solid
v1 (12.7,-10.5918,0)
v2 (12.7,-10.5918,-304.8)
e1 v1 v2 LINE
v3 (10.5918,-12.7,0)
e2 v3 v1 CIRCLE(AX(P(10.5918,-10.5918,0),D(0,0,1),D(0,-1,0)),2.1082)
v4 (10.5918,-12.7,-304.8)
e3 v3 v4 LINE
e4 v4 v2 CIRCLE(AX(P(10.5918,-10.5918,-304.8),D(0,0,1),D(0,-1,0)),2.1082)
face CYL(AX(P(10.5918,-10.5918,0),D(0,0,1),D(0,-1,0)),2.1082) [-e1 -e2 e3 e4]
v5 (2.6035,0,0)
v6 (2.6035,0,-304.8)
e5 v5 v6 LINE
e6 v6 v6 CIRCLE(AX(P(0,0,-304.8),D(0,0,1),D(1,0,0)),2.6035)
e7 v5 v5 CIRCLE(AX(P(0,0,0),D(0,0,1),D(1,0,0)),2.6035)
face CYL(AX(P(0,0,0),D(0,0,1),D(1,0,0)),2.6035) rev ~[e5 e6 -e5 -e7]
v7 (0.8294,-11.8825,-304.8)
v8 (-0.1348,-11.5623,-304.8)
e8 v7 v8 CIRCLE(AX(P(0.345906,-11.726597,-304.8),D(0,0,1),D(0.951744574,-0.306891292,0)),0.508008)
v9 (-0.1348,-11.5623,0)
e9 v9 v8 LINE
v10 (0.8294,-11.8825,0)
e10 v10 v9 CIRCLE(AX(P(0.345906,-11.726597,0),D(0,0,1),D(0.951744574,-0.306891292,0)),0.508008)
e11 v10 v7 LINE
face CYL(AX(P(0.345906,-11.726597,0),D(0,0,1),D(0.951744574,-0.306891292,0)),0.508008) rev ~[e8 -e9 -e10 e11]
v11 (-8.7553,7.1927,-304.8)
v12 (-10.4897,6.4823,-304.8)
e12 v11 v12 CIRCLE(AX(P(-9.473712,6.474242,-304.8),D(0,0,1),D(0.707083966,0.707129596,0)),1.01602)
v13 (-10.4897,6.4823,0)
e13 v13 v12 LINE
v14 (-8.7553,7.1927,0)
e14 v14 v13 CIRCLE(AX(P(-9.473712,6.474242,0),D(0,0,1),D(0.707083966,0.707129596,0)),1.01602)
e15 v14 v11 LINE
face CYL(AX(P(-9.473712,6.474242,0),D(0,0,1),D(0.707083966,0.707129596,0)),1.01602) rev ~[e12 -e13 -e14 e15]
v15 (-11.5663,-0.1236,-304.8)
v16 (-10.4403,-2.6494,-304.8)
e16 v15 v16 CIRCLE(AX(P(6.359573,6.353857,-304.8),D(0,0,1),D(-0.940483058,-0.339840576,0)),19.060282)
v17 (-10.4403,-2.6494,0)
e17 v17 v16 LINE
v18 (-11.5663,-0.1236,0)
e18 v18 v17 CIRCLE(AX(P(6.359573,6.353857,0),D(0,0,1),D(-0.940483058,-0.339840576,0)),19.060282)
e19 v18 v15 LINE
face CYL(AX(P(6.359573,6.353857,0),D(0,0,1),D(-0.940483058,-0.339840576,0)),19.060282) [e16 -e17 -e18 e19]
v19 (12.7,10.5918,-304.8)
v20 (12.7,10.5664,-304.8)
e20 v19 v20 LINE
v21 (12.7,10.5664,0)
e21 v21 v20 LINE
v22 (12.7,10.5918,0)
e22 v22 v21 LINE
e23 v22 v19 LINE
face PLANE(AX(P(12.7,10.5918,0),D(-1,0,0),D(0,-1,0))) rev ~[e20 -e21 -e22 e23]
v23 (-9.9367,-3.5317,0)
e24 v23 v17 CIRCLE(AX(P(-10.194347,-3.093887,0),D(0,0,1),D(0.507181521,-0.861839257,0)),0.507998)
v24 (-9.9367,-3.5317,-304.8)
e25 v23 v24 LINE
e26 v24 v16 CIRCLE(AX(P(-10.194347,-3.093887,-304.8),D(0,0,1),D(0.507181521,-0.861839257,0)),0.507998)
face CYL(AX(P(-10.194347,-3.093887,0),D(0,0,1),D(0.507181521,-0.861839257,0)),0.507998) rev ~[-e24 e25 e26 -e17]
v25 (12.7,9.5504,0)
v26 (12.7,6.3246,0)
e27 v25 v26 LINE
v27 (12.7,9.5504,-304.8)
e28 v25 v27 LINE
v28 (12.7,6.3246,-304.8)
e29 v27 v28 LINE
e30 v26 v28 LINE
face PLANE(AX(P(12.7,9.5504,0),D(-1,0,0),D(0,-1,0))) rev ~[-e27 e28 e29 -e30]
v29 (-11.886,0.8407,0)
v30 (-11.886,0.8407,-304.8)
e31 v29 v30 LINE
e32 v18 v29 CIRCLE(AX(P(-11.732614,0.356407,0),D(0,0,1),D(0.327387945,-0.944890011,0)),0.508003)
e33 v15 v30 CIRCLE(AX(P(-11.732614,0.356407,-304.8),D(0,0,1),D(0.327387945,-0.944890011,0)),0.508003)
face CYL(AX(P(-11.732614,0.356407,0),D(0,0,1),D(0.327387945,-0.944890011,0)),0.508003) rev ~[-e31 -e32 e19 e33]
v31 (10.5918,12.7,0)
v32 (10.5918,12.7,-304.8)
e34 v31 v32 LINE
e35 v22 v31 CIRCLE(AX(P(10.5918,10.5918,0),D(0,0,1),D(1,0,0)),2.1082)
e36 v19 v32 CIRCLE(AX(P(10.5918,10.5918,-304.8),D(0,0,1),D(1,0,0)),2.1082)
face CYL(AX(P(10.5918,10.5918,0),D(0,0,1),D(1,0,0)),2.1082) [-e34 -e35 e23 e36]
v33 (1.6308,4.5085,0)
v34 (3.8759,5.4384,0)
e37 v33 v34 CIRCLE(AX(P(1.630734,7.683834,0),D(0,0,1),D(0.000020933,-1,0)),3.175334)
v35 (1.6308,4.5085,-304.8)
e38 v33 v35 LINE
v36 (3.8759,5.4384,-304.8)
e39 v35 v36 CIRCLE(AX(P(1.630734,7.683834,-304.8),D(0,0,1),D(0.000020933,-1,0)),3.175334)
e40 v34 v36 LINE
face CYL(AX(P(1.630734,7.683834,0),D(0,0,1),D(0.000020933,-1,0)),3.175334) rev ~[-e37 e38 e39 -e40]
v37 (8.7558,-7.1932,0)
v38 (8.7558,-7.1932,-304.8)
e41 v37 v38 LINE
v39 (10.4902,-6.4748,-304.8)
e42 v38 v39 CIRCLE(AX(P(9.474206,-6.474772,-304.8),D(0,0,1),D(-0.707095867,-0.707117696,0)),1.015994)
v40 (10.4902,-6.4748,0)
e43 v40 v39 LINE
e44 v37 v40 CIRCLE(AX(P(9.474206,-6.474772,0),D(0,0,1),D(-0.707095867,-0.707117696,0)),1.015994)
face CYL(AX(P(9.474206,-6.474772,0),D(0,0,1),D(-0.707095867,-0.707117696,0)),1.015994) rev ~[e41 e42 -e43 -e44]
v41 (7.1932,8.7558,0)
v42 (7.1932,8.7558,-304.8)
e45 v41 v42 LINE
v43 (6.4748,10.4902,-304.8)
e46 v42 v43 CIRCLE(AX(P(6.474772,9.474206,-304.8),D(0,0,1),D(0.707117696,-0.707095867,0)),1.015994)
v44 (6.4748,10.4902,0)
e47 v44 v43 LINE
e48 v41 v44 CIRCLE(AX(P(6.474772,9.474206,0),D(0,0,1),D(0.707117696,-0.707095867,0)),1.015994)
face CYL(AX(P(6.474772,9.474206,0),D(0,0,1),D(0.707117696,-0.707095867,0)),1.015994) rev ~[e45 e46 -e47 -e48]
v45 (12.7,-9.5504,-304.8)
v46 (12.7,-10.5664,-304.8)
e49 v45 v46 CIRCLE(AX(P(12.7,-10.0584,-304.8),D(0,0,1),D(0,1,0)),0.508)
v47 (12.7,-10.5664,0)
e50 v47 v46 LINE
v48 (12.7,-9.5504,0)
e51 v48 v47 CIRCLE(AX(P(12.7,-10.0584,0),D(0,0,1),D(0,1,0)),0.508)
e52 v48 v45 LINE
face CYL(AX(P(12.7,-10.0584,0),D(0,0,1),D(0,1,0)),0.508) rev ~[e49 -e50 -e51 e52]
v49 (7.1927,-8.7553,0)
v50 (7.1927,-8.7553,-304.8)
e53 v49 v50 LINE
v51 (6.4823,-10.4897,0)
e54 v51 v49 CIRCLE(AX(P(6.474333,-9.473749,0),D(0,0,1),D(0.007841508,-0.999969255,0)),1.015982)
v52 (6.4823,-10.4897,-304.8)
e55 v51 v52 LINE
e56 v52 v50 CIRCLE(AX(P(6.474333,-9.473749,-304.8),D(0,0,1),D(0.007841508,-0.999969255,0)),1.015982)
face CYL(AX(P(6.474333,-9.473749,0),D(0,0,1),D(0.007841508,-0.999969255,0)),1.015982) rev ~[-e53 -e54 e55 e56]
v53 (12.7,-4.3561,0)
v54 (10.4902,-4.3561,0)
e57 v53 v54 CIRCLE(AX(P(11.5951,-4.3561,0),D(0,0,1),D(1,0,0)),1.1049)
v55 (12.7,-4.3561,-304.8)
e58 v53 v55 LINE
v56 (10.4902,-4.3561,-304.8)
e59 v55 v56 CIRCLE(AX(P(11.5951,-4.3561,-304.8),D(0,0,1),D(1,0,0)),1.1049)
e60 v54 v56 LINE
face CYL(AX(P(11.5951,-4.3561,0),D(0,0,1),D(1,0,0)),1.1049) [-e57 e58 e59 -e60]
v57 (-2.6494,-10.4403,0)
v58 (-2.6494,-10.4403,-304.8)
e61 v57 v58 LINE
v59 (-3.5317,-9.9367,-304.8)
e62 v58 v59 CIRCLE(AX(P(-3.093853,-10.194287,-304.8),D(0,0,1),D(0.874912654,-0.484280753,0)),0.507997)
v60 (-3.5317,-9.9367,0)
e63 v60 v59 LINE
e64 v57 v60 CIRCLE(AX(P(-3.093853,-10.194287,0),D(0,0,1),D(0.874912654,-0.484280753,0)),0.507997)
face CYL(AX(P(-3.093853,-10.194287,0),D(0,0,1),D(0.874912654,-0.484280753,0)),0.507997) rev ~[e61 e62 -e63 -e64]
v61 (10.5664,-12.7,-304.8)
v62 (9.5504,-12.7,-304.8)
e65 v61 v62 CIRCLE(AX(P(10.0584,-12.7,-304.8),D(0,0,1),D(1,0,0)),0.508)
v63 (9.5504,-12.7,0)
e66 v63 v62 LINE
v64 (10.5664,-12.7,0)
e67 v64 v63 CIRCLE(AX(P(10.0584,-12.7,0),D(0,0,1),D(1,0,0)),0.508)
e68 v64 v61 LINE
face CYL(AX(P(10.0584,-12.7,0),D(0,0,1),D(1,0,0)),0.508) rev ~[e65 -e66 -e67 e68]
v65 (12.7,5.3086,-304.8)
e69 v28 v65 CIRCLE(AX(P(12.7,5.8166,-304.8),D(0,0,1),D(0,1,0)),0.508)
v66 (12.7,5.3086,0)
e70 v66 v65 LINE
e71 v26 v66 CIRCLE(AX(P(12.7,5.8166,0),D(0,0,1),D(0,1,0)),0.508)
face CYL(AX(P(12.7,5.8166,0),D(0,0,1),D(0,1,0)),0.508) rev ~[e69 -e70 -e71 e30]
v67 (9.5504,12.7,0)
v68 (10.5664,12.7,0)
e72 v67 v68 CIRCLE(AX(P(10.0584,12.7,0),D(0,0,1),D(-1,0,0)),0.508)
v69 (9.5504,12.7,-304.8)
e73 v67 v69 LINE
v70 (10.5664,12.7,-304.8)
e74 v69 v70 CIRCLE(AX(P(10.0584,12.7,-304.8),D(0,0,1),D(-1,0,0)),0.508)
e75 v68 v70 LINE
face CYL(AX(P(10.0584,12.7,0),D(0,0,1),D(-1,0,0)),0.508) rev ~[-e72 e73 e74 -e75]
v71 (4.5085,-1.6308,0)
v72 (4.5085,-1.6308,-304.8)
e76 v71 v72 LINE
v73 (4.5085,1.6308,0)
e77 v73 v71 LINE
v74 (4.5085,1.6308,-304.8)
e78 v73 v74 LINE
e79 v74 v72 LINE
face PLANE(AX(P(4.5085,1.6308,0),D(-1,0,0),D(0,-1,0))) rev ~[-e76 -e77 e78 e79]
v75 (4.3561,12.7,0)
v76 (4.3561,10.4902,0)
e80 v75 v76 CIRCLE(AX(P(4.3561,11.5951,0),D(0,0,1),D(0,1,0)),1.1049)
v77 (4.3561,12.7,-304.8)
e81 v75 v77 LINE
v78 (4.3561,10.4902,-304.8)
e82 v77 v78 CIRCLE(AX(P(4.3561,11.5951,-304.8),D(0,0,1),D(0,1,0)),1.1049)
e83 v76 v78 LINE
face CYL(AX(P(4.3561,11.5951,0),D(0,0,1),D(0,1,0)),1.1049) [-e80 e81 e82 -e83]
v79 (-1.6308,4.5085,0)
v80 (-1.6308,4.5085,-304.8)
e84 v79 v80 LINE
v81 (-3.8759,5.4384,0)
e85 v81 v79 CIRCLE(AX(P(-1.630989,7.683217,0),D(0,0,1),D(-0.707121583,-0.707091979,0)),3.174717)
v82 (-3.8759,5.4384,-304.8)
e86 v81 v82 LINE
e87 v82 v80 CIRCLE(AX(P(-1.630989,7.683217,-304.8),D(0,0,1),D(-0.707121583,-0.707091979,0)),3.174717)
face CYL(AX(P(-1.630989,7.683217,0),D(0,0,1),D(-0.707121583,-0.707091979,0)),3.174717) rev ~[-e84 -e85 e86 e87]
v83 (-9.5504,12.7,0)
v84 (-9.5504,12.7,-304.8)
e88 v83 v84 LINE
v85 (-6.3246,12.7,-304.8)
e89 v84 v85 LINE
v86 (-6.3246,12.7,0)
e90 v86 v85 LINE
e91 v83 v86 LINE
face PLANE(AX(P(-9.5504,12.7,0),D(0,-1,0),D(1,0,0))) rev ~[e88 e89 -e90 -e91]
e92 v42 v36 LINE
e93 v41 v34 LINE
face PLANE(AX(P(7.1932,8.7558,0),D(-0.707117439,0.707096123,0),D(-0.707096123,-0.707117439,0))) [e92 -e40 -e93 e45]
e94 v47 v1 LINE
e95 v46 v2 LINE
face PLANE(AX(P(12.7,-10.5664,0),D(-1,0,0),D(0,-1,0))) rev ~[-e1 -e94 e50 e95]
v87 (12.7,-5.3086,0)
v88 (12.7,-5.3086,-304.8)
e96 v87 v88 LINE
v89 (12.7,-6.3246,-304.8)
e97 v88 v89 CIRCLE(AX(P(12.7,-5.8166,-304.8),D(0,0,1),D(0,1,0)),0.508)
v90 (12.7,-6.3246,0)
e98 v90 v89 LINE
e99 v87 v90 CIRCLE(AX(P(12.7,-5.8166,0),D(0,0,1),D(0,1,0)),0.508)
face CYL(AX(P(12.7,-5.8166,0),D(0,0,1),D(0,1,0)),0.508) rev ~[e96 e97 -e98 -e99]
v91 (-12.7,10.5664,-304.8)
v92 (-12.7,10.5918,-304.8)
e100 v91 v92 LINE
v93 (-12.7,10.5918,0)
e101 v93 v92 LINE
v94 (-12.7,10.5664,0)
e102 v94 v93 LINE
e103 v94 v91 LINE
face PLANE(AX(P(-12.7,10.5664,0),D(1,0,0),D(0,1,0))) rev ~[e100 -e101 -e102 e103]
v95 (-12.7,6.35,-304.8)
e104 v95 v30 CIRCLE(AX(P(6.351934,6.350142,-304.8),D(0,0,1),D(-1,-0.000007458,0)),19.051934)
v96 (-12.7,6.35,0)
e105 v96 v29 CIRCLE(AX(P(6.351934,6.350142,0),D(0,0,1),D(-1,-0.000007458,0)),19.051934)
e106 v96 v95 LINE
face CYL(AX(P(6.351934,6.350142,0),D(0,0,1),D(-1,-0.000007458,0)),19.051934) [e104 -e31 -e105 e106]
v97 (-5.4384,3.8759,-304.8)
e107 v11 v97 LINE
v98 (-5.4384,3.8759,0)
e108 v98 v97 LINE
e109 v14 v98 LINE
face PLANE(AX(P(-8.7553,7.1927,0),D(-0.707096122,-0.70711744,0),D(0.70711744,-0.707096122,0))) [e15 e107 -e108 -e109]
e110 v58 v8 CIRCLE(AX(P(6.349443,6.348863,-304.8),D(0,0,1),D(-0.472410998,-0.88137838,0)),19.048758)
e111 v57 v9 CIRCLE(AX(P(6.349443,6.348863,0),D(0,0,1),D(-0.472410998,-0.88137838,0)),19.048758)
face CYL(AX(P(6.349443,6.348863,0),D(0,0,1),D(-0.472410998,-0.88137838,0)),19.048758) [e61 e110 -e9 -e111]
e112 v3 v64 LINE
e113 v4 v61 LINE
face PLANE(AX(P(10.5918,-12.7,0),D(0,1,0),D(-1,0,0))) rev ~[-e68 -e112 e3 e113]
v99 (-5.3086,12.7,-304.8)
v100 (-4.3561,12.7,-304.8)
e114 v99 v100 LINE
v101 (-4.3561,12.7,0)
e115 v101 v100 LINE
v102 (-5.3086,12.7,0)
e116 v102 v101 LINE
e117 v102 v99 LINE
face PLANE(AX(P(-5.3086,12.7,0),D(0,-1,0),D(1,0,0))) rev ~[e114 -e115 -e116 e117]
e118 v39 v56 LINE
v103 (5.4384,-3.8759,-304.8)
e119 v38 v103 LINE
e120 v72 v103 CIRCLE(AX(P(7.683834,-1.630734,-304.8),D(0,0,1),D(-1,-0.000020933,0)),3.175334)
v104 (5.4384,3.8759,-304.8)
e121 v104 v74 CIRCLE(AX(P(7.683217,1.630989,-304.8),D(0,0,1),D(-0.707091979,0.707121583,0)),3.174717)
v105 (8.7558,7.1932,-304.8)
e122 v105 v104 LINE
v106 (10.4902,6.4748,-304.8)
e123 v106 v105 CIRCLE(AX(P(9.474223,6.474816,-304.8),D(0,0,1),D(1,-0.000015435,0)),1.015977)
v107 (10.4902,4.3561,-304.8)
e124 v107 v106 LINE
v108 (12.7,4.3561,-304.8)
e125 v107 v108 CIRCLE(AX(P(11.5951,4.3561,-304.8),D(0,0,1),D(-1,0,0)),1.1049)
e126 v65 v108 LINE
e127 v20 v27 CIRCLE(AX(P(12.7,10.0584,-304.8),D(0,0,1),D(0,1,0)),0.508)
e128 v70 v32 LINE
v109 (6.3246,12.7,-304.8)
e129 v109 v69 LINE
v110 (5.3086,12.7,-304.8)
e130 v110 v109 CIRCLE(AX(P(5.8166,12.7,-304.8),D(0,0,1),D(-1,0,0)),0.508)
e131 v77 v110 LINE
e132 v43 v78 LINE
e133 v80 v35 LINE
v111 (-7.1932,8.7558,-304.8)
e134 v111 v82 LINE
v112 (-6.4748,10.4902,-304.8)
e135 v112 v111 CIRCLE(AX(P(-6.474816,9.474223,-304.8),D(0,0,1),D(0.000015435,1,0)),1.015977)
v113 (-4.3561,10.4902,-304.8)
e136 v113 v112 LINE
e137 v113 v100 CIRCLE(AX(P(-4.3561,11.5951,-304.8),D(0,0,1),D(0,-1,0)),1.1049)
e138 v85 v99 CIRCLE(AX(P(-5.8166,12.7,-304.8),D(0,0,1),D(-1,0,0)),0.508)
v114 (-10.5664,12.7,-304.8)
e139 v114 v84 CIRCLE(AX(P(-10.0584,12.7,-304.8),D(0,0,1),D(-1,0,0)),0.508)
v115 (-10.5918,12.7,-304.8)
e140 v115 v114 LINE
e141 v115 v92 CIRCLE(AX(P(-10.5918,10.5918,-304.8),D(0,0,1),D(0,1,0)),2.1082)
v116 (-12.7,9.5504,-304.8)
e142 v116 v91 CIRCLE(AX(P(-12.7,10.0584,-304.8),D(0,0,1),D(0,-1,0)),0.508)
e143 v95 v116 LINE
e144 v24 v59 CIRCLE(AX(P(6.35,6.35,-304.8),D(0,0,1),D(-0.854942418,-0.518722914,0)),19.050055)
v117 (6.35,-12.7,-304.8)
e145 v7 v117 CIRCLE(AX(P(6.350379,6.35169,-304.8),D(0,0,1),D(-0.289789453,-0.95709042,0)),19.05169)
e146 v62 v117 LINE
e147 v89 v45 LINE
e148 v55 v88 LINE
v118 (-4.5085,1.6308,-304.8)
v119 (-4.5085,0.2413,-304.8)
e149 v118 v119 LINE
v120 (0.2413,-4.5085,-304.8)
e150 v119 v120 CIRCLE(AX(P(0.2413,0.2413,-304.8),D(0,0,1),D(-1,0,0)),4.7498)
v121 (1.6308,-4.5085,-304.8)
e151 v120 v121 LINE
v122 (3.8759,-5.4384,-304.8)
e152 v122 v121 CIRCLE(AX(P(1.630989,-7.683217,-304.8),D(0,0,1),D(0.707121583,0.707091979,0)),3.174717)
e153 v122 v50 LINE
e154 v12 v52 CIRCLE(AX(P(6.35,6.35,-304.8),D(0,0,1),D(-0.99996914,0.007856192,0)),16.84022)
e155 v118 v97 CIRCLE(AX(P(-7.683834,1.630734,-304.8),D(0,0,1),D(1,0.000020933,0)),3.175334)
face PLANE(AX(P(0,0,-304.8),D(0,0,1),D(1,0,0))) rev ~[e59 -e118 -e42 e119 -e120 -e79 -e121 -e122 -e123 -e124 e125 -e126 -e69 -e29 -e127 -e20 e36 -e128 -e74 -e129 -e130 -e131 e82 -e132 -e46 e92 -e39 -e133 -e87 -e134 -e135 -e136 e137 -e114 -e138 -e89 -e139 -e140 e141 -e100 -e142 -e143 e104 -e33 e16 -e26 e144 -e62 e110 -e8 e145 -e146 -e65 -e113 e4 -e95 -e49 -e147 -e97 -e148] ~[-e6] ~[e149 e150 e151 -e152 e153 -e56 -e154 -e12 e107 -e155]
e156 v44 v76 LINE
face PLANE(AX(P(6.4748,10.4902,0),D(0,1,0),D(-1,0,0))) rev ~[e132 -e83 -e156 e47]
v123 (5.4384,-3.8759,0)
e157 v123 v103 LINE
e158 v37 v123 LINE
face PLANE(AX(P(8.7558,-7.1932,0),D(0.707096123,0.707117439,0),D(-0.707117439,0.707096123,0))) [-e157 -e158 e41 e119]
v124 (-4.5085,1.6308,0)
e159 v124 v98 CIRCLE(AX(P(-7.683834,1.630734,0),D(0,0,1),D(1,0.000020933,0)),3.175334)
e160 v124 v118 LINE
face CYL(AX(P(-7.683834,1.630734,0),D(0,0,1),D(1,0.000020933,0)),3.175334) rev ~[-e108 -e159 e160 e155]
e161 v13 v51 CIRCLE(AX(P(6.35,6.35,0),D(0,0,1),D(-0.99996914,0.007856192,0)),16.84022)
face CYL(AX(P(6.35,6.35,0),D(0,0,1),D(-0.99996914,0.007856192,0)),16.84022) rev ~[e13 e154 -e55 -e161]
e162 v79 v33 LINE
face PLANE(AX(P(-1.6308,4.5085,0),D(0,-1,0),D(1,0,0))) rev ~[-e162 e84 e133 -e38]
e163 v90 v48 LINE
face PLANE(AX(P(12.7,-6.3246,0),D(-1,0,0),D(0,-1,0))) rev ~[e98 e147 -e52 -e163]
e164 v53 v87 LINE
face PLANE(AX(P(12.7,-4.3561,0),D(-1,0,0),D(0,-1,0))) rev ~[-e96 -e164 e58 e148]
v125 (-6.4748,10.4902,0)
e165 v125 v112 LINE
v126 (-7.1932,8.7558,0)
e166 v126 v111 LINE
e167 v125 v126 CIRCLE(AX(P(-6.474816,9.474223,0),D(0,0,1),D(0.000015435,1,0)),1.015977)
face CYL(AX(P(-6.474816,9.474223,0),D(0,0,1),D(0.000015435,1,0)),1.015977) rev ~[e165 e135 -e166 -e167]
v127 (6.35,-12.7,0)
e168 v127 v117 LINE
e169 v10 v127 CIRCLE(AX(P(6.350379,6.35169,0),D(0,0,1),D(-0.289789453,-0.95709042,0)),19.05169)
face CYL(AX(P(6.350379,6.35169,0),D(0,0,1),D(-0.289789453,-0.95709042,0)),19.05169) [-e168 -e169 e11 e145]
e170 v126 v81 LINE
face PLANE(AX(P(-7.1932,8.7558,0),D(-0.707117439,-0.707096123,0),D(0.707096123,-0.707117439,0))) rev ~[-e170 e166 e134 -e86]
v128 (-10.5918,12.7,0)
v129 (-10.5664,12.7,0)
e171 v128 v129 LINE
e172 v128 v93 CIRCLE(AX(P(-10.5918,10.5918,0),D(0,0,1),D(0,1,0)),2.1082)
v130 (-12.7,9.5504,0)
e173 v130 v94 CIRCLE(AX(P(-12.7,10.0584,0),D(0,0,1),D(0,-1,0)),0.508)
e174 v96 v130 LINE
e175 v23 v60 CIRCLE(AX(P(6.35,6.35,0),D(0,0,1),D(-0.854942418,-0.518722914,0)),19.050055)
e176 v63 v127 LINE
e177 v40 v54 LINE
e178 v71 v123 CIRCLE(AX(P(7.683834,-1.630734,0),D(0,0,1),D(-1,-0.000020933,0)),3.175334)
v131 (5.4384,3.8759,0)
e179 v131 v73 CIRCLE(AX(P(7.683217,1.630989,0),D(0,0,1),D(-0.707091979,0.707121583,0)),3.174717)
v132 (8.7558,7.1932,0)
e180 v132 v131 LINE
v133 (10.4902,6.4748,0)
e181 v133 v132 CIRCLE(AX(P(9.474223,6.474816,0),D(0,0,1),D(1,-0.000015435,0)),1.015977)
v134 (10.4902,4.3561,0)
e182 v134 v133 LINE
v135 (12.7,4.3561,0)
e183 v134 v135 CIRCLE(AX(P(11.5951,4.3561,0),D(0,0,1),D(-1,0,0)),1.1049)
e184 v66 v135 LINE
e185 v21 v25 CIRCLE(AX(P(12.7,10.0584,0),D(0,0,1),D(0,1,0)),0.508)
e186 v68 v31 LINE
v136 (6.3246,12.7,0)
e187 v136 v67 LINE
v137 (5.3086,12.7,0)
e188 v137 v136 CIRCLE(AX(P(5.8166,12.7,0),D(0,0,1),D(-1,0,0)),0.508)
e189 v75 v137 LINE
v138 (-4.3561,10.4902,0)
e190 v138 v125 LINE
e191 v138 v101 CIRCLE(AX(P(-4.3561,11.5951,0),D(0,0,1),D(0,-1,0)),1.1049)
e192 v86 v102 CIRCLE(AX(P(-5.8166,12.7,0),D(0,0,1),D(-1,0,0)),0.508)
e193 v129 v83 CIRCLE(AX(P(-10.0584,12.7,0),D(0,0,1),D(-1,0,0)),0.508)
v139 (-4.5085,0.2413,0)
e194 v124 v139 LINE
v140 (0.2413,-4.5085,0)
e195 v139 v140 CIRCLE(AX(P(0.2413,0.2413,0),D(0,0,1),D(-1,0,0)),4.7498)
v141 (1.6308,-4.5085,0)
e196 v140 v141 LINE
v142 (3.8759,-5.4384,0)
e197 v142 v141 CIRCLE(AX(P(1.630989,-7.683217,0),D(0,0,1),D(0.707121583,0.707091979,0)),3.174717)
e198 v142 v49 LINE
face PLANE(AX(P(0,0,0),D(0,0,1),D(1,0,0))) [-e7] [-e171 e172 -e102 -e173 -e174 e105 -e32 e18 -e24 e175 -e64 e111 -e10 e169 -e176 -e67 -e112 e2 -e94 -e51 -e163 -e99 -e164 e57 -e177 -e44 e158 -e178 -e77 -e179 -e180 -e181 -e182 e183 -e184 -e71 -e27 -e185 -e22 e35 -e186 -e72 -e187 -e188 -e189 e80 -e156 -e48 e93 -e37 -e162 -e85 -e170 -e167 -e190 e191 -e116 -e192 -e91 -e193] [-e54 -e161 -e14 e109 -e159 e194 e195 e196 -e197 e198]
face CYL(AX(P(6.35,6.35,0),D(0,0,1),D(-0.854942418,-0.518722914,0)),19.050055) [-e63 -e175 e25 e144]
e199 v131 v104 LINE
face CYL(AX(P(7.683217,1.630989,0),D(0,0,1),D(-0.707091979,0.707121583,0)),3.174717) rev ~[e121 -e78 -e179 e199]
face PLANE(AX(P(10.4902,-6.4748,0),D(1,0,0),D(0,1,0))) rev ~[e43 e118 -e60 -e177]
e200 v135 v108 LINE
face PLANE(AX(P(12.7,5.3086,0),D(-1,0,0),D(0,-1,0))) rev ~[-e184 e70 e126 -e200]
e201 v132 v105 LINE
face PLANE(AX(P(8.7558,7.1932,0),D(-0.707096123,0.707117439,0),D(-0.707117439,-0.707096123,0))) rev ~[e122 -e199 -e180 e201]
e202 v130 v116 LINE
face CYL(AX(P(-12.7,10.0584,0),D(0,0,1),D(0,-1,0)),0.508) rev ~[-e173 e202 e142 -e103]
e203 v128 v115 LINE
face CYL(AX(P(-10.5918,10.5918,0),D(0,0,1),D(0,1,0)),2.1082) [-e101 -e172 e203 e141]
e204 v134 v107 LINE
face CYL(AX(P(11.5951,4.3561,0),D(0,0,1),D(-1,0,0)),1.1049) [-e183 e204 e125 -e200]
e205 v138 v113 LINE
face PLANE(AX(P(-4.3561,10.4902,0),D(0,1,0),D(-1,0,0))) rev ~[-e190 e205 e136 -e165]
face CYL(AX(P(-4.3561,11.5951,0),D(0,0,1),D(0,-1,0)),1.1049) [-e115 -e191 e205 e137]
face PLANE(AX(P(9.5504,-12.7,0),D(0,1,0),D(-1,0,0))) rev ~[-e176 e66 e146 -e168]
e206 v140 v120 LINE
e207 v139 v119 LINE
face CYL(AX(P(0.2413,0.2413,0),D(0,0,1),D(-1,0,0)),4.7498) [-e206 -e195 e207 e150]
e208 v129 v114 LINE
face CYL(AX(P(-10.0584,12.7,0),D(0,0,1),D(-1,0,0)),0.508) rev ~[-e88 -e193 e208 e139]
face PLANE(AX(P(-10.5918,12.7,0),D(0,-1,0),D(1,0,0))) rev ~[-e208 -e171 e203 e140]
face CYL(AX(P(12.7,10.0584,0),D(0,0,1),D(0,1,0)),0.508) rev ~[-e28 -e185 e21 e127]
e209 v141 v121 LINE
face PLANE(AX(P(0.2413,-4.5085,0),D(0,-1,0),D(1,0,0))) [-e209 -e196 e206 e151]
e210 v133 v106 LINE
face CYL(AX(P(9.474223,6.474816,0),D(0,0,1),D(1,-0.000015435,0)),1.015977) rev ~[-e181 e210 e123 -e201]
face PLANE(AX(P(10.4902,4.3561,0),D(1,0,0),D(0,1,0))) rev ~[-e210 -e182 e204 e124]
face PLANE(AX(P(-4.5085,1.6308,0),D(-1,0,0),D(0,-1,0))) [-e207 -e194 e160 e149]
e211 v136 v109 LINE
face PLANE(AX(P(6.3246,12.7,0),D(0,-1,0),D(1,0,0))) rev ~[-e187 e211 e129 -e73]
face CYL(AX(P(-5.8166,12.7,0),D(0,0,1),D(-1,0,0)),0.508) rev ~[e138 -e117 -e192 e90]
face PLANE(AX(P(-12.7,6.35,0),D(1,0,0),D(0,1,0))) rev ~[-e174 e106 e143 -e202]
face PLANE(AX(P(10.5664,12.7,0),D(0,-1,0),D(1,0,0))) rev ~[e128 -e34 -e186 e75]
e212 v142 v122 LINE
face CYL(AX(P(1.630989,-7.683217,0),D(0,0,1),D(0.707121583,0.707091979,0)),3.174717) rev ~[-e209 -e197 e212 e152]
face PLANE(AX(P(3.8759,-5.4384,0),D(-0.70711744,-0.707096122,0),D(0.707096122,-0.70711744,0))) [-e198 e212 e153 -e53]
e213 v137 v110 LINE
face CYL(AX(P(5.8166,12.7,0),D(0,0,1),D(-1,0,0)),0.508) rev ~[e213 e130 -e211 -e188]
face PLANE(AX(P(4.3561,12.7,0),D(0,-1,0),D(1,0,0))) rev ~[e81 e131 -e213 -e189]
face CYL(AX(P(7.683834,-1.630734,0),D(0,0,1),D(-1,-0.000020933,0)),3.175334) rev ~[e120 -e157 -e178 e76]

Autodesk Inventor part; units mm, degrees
ref_plane "YZ Plane" through (0, 0, 0) normal (1, 0, 0) x (0, 1, 0)
ref_plane "XZ Plane" through (0, 0, 0) normal (0, 1, 0) x (-1, 0, 0)
ref_plane "XY Plane" through (0, 0, 0) normal (0, 0, 1) x (1, 0, 0)
sketch "Sketch1" plane through (0, 0, 0) normal (0, 0, 1) x (1, 0, 0)
  arc A0 (-11.5663, -0.1236) -> (-11.886, 0.8407) centre (-11.7326, 0.3564) ccw
  arc A1 (-11.5663, -0.1236) -> (-10.4403, -2.6494) centre (6.35, 6.35) ccw
  arc A2 (-12.7, 6.35) -> (-11.886, 0.8407) centre (6.35, 6.35) ccw
  arc A3 (-9.9367, -3.5317) -> (-10.4403, -2.6494) centre (-10.1943, -3.0939) ccw
  line L0 (-12.7, 6.35) -> (-12.7, 9.5504)
  arc A4 (-9.9367, -3.5317) -> (-3.5317, -9.9367) centre (6.35, 6.35) ccw
  arc A5 (-12.7, 9.5504) -> (-12.7, 10.5664) centre (-12.7, 10.0584) ccw
  arc A6 (-2.6494, -10.4403) -> (-3.5317, -9.9367) centre (-3.0939, -10.1943) ccw
  line L1 (-12.7, 10.5664) -> (-12.7, 10.5918)
  arc A7 (-2.6494, -10.4403) -> (-0.1348, -11.5623) centre (6.35, 6.35) ccw
  arc A8 (-10.5918, 12.7) -> (-12.7, 10.5918) centre (-10.5918, 10.5918) ccw
  arc A9 (0.8294, -11.8825) -> (-0.1348, -11.5623) centre (0.3459, -11.7266) ccw
  line L2 (-10.5918, 12.7) -> (-10.5664, 12.7)
  arc A10 (0.8294, -11.8825) -> (6.35, -12.7) centre (6.35, 6.35) ccw
  arc A11 (-10.5664, 12.7) -> (-9.5504, 12.7) centre (-10.0584, 12.7) ccw
  line L3 (9.5504, -12.7) -> (6.35, -12.7)
  line L4 (-9.5504, 12.7) -> (-6.3246, 12.7)
  arc A12 (10.5664, -12.7) -> (9.5504, -12.7) centre (10.0584, -12.7) ccw
  arc A13 (-6.3246, 12.7) -> (-5.3086, 12.7) centre (-5.8166, 12.7) ccw
  line L5 (10.5918, -12.7) -> (10.5664, -12.7)
  line L6 (-5.3086, 12.7) -> (-4.3561, 12.7)
  arc A14 (10.5918, -12.7) -> (12.7, -10.5918) centre (10.5918, -10.5918) ccw
  arc A15 (-4.3561, 10.4902) -> (-4.3561, 12.7) centre (-4.3561, 11.5951) ccw
  line L7 (12.7, -10.5664) -> (12.7, -10.5918)
  line L8 (-4.3561, 10.4902) -> (-6.4748, 10.4902)
  arc A16 (12.7, -9.5504) -> (12.7, -10.5664) centre (12.7, -10.0584) ccw
  arc A17 (-6.4748, 10.4902) -> (-7.1932, 8.7558) centre (-6.4748, 9.4742) ccw
  line L9 (12.7, -6.3246) -> (12.7, -9.5504)
  line L10 (-7.1932, 8.7558) -> (-3.8759, 5.4384)
  arc A18 (12.7, -5.3086) -> (12.7, -6.3246) centre (12.7, -5.8166) ccw
  arc A19 (-3.8759, 5.4384) -> (-1.6308, 4.5085) centre (-1.6308, 7.6835) ccw
  line L11 (12.7, -4.3561) -> (12.7, -5.3086)
  line L12 (-1.6308, 4.5085) -> (1.6308, 4.5085)
  arc A20 (12.7, -4.3561) -> (10.4902, -4.3561) centre (11.5951, -4.3561) ccw
  arc A21 (1.6308, 4.5085) -> (3.8759, 5.4384) centre (1.6308, 7.6835) ccw
  line L13 (10.4902, -6.4748) -> (10.4902, -4.3561)
  line L14 (7.1932, 8.7558) -> (3.8759, 5.4384)
  arc A22 (8.7558, -7.1932) -> (10.4902, -6.4748) centre (9.4742, -6.4748) ccw
  arc A23 (7.1932, 8.7558) -> (6.4748, 10.4902) centre (6.4748, 9.4742) ccw
  line L15 (8.7558, -7.1932) -> (5.4384, -3.8759)
  line L16 (6.4748, 10.4902) -> (4.3561, 10.4902)
  arc A24 (4.5085, -1.6308) -> (5.4384, -3.8759) centre (7.6835, -1.6308) ccw
  arc A25 (4.3561, 12.7) -> (4.3561, 10.4902) centre (4.3561, 11.5951) ccw
  line L17 (4.5085, 1.6308) -> (4.5085, -1.6308)
  line L18 (4.3561, 12.7) -> (5.3086, 12.7)
  arc A26 (5.4384, 3.8759) -> (4.5085, 1.6308) centre (7.6835, 1.6308) ccw
  arc A27 (5.3086, 12.7) -> (6.3246, 12.7) centre (5.8166, 12.7) ccw
  line L19 (8.7558, 7.1932) -> (5.4384, 3.8759)
  line L20 (6.3246, 12.7) -> (9.5504, 12.7)
  arc A28 (10.4902, 6.4748) -> (8.7558, 7.1932) centre (9.4742, 6.4748) ccw
  arc A29 (9.5504, 12.7) -> (10.5664, 12.7) centre (10.0584, 12.7) ccw
  line L21 (10.4902, 4.3561) -> (10.4902, 6.4748)
  line L22 (10.5664, 12.7) -> (10.5918, 12.7)
  arc A30 (10.4902, 4.3561) -> (12.7, 4.3561) centre (11.5951, 4.3561) ccw
  arc A31 (12.7, 10.5918) -> (10.5918, 12.7) centre (10.5918, 10.5918) ccw
  line L23 (12.7, 5.3086) -> (12.7, 4.3561)
  line L24 (12.7, 10.5918) -> (12.7, 10.5664)
  arc A32 (12.7, 6.3246) -> (12.7, 5.3086) centre (12.7, 5.8166) ccw
  arc A33 (12.7, 10.5664) -> (12.7, 9.5504) centre (12.7, 10.0584) ccw
  line L25 (12.7, 9.5504) -> (12.7, 6.3246)
  arc A34 (-4.5085, 0.2413) -> (0.2413, -4.5085) centre (0.2413, 0.2413) ccw
  line L26 (0.2413, -4.5085) -> (1.6308, -4.5085)
  line L27 (-4.5085, 1.6308) -> (-4.5085, 0.2413)
  arc A35 (3.8759, -5.4384) -> (1.6308, -4.5085) centre (1.6308, -7.6835) ccw
  arc A36 (-4.5085, 1.6308) -> (-5.4384, 3.8759) centre (-7.6835, 1.6308) ccw
  line L28 (3.8759, -5.4384) -> (7.1927, -8.7553)
  line L29 (-8.7553, 7.1927) -> (-5.4384, 3.8759)
  arc A37 (6.4823, -10.4897) -> (7.1927, -8.7553) centre (6.4743, -9.4737) ccw
  arc A38 (-8.7553, 7.1927) -> (-10.4897, 6.4823) centre (-9.4737, 6.4743) ccw
  arc A39 (-10.4897, 6.4823) -> (6.4823, -10.4897) centre (6.35, 6.35) ccw
  circle A40 centre (0, 0) radius 2.6035
extrude "Extrusion1" add sketch "Sketch1" against normal blind 304.8
properties part number "1012-BLACK-FB"
